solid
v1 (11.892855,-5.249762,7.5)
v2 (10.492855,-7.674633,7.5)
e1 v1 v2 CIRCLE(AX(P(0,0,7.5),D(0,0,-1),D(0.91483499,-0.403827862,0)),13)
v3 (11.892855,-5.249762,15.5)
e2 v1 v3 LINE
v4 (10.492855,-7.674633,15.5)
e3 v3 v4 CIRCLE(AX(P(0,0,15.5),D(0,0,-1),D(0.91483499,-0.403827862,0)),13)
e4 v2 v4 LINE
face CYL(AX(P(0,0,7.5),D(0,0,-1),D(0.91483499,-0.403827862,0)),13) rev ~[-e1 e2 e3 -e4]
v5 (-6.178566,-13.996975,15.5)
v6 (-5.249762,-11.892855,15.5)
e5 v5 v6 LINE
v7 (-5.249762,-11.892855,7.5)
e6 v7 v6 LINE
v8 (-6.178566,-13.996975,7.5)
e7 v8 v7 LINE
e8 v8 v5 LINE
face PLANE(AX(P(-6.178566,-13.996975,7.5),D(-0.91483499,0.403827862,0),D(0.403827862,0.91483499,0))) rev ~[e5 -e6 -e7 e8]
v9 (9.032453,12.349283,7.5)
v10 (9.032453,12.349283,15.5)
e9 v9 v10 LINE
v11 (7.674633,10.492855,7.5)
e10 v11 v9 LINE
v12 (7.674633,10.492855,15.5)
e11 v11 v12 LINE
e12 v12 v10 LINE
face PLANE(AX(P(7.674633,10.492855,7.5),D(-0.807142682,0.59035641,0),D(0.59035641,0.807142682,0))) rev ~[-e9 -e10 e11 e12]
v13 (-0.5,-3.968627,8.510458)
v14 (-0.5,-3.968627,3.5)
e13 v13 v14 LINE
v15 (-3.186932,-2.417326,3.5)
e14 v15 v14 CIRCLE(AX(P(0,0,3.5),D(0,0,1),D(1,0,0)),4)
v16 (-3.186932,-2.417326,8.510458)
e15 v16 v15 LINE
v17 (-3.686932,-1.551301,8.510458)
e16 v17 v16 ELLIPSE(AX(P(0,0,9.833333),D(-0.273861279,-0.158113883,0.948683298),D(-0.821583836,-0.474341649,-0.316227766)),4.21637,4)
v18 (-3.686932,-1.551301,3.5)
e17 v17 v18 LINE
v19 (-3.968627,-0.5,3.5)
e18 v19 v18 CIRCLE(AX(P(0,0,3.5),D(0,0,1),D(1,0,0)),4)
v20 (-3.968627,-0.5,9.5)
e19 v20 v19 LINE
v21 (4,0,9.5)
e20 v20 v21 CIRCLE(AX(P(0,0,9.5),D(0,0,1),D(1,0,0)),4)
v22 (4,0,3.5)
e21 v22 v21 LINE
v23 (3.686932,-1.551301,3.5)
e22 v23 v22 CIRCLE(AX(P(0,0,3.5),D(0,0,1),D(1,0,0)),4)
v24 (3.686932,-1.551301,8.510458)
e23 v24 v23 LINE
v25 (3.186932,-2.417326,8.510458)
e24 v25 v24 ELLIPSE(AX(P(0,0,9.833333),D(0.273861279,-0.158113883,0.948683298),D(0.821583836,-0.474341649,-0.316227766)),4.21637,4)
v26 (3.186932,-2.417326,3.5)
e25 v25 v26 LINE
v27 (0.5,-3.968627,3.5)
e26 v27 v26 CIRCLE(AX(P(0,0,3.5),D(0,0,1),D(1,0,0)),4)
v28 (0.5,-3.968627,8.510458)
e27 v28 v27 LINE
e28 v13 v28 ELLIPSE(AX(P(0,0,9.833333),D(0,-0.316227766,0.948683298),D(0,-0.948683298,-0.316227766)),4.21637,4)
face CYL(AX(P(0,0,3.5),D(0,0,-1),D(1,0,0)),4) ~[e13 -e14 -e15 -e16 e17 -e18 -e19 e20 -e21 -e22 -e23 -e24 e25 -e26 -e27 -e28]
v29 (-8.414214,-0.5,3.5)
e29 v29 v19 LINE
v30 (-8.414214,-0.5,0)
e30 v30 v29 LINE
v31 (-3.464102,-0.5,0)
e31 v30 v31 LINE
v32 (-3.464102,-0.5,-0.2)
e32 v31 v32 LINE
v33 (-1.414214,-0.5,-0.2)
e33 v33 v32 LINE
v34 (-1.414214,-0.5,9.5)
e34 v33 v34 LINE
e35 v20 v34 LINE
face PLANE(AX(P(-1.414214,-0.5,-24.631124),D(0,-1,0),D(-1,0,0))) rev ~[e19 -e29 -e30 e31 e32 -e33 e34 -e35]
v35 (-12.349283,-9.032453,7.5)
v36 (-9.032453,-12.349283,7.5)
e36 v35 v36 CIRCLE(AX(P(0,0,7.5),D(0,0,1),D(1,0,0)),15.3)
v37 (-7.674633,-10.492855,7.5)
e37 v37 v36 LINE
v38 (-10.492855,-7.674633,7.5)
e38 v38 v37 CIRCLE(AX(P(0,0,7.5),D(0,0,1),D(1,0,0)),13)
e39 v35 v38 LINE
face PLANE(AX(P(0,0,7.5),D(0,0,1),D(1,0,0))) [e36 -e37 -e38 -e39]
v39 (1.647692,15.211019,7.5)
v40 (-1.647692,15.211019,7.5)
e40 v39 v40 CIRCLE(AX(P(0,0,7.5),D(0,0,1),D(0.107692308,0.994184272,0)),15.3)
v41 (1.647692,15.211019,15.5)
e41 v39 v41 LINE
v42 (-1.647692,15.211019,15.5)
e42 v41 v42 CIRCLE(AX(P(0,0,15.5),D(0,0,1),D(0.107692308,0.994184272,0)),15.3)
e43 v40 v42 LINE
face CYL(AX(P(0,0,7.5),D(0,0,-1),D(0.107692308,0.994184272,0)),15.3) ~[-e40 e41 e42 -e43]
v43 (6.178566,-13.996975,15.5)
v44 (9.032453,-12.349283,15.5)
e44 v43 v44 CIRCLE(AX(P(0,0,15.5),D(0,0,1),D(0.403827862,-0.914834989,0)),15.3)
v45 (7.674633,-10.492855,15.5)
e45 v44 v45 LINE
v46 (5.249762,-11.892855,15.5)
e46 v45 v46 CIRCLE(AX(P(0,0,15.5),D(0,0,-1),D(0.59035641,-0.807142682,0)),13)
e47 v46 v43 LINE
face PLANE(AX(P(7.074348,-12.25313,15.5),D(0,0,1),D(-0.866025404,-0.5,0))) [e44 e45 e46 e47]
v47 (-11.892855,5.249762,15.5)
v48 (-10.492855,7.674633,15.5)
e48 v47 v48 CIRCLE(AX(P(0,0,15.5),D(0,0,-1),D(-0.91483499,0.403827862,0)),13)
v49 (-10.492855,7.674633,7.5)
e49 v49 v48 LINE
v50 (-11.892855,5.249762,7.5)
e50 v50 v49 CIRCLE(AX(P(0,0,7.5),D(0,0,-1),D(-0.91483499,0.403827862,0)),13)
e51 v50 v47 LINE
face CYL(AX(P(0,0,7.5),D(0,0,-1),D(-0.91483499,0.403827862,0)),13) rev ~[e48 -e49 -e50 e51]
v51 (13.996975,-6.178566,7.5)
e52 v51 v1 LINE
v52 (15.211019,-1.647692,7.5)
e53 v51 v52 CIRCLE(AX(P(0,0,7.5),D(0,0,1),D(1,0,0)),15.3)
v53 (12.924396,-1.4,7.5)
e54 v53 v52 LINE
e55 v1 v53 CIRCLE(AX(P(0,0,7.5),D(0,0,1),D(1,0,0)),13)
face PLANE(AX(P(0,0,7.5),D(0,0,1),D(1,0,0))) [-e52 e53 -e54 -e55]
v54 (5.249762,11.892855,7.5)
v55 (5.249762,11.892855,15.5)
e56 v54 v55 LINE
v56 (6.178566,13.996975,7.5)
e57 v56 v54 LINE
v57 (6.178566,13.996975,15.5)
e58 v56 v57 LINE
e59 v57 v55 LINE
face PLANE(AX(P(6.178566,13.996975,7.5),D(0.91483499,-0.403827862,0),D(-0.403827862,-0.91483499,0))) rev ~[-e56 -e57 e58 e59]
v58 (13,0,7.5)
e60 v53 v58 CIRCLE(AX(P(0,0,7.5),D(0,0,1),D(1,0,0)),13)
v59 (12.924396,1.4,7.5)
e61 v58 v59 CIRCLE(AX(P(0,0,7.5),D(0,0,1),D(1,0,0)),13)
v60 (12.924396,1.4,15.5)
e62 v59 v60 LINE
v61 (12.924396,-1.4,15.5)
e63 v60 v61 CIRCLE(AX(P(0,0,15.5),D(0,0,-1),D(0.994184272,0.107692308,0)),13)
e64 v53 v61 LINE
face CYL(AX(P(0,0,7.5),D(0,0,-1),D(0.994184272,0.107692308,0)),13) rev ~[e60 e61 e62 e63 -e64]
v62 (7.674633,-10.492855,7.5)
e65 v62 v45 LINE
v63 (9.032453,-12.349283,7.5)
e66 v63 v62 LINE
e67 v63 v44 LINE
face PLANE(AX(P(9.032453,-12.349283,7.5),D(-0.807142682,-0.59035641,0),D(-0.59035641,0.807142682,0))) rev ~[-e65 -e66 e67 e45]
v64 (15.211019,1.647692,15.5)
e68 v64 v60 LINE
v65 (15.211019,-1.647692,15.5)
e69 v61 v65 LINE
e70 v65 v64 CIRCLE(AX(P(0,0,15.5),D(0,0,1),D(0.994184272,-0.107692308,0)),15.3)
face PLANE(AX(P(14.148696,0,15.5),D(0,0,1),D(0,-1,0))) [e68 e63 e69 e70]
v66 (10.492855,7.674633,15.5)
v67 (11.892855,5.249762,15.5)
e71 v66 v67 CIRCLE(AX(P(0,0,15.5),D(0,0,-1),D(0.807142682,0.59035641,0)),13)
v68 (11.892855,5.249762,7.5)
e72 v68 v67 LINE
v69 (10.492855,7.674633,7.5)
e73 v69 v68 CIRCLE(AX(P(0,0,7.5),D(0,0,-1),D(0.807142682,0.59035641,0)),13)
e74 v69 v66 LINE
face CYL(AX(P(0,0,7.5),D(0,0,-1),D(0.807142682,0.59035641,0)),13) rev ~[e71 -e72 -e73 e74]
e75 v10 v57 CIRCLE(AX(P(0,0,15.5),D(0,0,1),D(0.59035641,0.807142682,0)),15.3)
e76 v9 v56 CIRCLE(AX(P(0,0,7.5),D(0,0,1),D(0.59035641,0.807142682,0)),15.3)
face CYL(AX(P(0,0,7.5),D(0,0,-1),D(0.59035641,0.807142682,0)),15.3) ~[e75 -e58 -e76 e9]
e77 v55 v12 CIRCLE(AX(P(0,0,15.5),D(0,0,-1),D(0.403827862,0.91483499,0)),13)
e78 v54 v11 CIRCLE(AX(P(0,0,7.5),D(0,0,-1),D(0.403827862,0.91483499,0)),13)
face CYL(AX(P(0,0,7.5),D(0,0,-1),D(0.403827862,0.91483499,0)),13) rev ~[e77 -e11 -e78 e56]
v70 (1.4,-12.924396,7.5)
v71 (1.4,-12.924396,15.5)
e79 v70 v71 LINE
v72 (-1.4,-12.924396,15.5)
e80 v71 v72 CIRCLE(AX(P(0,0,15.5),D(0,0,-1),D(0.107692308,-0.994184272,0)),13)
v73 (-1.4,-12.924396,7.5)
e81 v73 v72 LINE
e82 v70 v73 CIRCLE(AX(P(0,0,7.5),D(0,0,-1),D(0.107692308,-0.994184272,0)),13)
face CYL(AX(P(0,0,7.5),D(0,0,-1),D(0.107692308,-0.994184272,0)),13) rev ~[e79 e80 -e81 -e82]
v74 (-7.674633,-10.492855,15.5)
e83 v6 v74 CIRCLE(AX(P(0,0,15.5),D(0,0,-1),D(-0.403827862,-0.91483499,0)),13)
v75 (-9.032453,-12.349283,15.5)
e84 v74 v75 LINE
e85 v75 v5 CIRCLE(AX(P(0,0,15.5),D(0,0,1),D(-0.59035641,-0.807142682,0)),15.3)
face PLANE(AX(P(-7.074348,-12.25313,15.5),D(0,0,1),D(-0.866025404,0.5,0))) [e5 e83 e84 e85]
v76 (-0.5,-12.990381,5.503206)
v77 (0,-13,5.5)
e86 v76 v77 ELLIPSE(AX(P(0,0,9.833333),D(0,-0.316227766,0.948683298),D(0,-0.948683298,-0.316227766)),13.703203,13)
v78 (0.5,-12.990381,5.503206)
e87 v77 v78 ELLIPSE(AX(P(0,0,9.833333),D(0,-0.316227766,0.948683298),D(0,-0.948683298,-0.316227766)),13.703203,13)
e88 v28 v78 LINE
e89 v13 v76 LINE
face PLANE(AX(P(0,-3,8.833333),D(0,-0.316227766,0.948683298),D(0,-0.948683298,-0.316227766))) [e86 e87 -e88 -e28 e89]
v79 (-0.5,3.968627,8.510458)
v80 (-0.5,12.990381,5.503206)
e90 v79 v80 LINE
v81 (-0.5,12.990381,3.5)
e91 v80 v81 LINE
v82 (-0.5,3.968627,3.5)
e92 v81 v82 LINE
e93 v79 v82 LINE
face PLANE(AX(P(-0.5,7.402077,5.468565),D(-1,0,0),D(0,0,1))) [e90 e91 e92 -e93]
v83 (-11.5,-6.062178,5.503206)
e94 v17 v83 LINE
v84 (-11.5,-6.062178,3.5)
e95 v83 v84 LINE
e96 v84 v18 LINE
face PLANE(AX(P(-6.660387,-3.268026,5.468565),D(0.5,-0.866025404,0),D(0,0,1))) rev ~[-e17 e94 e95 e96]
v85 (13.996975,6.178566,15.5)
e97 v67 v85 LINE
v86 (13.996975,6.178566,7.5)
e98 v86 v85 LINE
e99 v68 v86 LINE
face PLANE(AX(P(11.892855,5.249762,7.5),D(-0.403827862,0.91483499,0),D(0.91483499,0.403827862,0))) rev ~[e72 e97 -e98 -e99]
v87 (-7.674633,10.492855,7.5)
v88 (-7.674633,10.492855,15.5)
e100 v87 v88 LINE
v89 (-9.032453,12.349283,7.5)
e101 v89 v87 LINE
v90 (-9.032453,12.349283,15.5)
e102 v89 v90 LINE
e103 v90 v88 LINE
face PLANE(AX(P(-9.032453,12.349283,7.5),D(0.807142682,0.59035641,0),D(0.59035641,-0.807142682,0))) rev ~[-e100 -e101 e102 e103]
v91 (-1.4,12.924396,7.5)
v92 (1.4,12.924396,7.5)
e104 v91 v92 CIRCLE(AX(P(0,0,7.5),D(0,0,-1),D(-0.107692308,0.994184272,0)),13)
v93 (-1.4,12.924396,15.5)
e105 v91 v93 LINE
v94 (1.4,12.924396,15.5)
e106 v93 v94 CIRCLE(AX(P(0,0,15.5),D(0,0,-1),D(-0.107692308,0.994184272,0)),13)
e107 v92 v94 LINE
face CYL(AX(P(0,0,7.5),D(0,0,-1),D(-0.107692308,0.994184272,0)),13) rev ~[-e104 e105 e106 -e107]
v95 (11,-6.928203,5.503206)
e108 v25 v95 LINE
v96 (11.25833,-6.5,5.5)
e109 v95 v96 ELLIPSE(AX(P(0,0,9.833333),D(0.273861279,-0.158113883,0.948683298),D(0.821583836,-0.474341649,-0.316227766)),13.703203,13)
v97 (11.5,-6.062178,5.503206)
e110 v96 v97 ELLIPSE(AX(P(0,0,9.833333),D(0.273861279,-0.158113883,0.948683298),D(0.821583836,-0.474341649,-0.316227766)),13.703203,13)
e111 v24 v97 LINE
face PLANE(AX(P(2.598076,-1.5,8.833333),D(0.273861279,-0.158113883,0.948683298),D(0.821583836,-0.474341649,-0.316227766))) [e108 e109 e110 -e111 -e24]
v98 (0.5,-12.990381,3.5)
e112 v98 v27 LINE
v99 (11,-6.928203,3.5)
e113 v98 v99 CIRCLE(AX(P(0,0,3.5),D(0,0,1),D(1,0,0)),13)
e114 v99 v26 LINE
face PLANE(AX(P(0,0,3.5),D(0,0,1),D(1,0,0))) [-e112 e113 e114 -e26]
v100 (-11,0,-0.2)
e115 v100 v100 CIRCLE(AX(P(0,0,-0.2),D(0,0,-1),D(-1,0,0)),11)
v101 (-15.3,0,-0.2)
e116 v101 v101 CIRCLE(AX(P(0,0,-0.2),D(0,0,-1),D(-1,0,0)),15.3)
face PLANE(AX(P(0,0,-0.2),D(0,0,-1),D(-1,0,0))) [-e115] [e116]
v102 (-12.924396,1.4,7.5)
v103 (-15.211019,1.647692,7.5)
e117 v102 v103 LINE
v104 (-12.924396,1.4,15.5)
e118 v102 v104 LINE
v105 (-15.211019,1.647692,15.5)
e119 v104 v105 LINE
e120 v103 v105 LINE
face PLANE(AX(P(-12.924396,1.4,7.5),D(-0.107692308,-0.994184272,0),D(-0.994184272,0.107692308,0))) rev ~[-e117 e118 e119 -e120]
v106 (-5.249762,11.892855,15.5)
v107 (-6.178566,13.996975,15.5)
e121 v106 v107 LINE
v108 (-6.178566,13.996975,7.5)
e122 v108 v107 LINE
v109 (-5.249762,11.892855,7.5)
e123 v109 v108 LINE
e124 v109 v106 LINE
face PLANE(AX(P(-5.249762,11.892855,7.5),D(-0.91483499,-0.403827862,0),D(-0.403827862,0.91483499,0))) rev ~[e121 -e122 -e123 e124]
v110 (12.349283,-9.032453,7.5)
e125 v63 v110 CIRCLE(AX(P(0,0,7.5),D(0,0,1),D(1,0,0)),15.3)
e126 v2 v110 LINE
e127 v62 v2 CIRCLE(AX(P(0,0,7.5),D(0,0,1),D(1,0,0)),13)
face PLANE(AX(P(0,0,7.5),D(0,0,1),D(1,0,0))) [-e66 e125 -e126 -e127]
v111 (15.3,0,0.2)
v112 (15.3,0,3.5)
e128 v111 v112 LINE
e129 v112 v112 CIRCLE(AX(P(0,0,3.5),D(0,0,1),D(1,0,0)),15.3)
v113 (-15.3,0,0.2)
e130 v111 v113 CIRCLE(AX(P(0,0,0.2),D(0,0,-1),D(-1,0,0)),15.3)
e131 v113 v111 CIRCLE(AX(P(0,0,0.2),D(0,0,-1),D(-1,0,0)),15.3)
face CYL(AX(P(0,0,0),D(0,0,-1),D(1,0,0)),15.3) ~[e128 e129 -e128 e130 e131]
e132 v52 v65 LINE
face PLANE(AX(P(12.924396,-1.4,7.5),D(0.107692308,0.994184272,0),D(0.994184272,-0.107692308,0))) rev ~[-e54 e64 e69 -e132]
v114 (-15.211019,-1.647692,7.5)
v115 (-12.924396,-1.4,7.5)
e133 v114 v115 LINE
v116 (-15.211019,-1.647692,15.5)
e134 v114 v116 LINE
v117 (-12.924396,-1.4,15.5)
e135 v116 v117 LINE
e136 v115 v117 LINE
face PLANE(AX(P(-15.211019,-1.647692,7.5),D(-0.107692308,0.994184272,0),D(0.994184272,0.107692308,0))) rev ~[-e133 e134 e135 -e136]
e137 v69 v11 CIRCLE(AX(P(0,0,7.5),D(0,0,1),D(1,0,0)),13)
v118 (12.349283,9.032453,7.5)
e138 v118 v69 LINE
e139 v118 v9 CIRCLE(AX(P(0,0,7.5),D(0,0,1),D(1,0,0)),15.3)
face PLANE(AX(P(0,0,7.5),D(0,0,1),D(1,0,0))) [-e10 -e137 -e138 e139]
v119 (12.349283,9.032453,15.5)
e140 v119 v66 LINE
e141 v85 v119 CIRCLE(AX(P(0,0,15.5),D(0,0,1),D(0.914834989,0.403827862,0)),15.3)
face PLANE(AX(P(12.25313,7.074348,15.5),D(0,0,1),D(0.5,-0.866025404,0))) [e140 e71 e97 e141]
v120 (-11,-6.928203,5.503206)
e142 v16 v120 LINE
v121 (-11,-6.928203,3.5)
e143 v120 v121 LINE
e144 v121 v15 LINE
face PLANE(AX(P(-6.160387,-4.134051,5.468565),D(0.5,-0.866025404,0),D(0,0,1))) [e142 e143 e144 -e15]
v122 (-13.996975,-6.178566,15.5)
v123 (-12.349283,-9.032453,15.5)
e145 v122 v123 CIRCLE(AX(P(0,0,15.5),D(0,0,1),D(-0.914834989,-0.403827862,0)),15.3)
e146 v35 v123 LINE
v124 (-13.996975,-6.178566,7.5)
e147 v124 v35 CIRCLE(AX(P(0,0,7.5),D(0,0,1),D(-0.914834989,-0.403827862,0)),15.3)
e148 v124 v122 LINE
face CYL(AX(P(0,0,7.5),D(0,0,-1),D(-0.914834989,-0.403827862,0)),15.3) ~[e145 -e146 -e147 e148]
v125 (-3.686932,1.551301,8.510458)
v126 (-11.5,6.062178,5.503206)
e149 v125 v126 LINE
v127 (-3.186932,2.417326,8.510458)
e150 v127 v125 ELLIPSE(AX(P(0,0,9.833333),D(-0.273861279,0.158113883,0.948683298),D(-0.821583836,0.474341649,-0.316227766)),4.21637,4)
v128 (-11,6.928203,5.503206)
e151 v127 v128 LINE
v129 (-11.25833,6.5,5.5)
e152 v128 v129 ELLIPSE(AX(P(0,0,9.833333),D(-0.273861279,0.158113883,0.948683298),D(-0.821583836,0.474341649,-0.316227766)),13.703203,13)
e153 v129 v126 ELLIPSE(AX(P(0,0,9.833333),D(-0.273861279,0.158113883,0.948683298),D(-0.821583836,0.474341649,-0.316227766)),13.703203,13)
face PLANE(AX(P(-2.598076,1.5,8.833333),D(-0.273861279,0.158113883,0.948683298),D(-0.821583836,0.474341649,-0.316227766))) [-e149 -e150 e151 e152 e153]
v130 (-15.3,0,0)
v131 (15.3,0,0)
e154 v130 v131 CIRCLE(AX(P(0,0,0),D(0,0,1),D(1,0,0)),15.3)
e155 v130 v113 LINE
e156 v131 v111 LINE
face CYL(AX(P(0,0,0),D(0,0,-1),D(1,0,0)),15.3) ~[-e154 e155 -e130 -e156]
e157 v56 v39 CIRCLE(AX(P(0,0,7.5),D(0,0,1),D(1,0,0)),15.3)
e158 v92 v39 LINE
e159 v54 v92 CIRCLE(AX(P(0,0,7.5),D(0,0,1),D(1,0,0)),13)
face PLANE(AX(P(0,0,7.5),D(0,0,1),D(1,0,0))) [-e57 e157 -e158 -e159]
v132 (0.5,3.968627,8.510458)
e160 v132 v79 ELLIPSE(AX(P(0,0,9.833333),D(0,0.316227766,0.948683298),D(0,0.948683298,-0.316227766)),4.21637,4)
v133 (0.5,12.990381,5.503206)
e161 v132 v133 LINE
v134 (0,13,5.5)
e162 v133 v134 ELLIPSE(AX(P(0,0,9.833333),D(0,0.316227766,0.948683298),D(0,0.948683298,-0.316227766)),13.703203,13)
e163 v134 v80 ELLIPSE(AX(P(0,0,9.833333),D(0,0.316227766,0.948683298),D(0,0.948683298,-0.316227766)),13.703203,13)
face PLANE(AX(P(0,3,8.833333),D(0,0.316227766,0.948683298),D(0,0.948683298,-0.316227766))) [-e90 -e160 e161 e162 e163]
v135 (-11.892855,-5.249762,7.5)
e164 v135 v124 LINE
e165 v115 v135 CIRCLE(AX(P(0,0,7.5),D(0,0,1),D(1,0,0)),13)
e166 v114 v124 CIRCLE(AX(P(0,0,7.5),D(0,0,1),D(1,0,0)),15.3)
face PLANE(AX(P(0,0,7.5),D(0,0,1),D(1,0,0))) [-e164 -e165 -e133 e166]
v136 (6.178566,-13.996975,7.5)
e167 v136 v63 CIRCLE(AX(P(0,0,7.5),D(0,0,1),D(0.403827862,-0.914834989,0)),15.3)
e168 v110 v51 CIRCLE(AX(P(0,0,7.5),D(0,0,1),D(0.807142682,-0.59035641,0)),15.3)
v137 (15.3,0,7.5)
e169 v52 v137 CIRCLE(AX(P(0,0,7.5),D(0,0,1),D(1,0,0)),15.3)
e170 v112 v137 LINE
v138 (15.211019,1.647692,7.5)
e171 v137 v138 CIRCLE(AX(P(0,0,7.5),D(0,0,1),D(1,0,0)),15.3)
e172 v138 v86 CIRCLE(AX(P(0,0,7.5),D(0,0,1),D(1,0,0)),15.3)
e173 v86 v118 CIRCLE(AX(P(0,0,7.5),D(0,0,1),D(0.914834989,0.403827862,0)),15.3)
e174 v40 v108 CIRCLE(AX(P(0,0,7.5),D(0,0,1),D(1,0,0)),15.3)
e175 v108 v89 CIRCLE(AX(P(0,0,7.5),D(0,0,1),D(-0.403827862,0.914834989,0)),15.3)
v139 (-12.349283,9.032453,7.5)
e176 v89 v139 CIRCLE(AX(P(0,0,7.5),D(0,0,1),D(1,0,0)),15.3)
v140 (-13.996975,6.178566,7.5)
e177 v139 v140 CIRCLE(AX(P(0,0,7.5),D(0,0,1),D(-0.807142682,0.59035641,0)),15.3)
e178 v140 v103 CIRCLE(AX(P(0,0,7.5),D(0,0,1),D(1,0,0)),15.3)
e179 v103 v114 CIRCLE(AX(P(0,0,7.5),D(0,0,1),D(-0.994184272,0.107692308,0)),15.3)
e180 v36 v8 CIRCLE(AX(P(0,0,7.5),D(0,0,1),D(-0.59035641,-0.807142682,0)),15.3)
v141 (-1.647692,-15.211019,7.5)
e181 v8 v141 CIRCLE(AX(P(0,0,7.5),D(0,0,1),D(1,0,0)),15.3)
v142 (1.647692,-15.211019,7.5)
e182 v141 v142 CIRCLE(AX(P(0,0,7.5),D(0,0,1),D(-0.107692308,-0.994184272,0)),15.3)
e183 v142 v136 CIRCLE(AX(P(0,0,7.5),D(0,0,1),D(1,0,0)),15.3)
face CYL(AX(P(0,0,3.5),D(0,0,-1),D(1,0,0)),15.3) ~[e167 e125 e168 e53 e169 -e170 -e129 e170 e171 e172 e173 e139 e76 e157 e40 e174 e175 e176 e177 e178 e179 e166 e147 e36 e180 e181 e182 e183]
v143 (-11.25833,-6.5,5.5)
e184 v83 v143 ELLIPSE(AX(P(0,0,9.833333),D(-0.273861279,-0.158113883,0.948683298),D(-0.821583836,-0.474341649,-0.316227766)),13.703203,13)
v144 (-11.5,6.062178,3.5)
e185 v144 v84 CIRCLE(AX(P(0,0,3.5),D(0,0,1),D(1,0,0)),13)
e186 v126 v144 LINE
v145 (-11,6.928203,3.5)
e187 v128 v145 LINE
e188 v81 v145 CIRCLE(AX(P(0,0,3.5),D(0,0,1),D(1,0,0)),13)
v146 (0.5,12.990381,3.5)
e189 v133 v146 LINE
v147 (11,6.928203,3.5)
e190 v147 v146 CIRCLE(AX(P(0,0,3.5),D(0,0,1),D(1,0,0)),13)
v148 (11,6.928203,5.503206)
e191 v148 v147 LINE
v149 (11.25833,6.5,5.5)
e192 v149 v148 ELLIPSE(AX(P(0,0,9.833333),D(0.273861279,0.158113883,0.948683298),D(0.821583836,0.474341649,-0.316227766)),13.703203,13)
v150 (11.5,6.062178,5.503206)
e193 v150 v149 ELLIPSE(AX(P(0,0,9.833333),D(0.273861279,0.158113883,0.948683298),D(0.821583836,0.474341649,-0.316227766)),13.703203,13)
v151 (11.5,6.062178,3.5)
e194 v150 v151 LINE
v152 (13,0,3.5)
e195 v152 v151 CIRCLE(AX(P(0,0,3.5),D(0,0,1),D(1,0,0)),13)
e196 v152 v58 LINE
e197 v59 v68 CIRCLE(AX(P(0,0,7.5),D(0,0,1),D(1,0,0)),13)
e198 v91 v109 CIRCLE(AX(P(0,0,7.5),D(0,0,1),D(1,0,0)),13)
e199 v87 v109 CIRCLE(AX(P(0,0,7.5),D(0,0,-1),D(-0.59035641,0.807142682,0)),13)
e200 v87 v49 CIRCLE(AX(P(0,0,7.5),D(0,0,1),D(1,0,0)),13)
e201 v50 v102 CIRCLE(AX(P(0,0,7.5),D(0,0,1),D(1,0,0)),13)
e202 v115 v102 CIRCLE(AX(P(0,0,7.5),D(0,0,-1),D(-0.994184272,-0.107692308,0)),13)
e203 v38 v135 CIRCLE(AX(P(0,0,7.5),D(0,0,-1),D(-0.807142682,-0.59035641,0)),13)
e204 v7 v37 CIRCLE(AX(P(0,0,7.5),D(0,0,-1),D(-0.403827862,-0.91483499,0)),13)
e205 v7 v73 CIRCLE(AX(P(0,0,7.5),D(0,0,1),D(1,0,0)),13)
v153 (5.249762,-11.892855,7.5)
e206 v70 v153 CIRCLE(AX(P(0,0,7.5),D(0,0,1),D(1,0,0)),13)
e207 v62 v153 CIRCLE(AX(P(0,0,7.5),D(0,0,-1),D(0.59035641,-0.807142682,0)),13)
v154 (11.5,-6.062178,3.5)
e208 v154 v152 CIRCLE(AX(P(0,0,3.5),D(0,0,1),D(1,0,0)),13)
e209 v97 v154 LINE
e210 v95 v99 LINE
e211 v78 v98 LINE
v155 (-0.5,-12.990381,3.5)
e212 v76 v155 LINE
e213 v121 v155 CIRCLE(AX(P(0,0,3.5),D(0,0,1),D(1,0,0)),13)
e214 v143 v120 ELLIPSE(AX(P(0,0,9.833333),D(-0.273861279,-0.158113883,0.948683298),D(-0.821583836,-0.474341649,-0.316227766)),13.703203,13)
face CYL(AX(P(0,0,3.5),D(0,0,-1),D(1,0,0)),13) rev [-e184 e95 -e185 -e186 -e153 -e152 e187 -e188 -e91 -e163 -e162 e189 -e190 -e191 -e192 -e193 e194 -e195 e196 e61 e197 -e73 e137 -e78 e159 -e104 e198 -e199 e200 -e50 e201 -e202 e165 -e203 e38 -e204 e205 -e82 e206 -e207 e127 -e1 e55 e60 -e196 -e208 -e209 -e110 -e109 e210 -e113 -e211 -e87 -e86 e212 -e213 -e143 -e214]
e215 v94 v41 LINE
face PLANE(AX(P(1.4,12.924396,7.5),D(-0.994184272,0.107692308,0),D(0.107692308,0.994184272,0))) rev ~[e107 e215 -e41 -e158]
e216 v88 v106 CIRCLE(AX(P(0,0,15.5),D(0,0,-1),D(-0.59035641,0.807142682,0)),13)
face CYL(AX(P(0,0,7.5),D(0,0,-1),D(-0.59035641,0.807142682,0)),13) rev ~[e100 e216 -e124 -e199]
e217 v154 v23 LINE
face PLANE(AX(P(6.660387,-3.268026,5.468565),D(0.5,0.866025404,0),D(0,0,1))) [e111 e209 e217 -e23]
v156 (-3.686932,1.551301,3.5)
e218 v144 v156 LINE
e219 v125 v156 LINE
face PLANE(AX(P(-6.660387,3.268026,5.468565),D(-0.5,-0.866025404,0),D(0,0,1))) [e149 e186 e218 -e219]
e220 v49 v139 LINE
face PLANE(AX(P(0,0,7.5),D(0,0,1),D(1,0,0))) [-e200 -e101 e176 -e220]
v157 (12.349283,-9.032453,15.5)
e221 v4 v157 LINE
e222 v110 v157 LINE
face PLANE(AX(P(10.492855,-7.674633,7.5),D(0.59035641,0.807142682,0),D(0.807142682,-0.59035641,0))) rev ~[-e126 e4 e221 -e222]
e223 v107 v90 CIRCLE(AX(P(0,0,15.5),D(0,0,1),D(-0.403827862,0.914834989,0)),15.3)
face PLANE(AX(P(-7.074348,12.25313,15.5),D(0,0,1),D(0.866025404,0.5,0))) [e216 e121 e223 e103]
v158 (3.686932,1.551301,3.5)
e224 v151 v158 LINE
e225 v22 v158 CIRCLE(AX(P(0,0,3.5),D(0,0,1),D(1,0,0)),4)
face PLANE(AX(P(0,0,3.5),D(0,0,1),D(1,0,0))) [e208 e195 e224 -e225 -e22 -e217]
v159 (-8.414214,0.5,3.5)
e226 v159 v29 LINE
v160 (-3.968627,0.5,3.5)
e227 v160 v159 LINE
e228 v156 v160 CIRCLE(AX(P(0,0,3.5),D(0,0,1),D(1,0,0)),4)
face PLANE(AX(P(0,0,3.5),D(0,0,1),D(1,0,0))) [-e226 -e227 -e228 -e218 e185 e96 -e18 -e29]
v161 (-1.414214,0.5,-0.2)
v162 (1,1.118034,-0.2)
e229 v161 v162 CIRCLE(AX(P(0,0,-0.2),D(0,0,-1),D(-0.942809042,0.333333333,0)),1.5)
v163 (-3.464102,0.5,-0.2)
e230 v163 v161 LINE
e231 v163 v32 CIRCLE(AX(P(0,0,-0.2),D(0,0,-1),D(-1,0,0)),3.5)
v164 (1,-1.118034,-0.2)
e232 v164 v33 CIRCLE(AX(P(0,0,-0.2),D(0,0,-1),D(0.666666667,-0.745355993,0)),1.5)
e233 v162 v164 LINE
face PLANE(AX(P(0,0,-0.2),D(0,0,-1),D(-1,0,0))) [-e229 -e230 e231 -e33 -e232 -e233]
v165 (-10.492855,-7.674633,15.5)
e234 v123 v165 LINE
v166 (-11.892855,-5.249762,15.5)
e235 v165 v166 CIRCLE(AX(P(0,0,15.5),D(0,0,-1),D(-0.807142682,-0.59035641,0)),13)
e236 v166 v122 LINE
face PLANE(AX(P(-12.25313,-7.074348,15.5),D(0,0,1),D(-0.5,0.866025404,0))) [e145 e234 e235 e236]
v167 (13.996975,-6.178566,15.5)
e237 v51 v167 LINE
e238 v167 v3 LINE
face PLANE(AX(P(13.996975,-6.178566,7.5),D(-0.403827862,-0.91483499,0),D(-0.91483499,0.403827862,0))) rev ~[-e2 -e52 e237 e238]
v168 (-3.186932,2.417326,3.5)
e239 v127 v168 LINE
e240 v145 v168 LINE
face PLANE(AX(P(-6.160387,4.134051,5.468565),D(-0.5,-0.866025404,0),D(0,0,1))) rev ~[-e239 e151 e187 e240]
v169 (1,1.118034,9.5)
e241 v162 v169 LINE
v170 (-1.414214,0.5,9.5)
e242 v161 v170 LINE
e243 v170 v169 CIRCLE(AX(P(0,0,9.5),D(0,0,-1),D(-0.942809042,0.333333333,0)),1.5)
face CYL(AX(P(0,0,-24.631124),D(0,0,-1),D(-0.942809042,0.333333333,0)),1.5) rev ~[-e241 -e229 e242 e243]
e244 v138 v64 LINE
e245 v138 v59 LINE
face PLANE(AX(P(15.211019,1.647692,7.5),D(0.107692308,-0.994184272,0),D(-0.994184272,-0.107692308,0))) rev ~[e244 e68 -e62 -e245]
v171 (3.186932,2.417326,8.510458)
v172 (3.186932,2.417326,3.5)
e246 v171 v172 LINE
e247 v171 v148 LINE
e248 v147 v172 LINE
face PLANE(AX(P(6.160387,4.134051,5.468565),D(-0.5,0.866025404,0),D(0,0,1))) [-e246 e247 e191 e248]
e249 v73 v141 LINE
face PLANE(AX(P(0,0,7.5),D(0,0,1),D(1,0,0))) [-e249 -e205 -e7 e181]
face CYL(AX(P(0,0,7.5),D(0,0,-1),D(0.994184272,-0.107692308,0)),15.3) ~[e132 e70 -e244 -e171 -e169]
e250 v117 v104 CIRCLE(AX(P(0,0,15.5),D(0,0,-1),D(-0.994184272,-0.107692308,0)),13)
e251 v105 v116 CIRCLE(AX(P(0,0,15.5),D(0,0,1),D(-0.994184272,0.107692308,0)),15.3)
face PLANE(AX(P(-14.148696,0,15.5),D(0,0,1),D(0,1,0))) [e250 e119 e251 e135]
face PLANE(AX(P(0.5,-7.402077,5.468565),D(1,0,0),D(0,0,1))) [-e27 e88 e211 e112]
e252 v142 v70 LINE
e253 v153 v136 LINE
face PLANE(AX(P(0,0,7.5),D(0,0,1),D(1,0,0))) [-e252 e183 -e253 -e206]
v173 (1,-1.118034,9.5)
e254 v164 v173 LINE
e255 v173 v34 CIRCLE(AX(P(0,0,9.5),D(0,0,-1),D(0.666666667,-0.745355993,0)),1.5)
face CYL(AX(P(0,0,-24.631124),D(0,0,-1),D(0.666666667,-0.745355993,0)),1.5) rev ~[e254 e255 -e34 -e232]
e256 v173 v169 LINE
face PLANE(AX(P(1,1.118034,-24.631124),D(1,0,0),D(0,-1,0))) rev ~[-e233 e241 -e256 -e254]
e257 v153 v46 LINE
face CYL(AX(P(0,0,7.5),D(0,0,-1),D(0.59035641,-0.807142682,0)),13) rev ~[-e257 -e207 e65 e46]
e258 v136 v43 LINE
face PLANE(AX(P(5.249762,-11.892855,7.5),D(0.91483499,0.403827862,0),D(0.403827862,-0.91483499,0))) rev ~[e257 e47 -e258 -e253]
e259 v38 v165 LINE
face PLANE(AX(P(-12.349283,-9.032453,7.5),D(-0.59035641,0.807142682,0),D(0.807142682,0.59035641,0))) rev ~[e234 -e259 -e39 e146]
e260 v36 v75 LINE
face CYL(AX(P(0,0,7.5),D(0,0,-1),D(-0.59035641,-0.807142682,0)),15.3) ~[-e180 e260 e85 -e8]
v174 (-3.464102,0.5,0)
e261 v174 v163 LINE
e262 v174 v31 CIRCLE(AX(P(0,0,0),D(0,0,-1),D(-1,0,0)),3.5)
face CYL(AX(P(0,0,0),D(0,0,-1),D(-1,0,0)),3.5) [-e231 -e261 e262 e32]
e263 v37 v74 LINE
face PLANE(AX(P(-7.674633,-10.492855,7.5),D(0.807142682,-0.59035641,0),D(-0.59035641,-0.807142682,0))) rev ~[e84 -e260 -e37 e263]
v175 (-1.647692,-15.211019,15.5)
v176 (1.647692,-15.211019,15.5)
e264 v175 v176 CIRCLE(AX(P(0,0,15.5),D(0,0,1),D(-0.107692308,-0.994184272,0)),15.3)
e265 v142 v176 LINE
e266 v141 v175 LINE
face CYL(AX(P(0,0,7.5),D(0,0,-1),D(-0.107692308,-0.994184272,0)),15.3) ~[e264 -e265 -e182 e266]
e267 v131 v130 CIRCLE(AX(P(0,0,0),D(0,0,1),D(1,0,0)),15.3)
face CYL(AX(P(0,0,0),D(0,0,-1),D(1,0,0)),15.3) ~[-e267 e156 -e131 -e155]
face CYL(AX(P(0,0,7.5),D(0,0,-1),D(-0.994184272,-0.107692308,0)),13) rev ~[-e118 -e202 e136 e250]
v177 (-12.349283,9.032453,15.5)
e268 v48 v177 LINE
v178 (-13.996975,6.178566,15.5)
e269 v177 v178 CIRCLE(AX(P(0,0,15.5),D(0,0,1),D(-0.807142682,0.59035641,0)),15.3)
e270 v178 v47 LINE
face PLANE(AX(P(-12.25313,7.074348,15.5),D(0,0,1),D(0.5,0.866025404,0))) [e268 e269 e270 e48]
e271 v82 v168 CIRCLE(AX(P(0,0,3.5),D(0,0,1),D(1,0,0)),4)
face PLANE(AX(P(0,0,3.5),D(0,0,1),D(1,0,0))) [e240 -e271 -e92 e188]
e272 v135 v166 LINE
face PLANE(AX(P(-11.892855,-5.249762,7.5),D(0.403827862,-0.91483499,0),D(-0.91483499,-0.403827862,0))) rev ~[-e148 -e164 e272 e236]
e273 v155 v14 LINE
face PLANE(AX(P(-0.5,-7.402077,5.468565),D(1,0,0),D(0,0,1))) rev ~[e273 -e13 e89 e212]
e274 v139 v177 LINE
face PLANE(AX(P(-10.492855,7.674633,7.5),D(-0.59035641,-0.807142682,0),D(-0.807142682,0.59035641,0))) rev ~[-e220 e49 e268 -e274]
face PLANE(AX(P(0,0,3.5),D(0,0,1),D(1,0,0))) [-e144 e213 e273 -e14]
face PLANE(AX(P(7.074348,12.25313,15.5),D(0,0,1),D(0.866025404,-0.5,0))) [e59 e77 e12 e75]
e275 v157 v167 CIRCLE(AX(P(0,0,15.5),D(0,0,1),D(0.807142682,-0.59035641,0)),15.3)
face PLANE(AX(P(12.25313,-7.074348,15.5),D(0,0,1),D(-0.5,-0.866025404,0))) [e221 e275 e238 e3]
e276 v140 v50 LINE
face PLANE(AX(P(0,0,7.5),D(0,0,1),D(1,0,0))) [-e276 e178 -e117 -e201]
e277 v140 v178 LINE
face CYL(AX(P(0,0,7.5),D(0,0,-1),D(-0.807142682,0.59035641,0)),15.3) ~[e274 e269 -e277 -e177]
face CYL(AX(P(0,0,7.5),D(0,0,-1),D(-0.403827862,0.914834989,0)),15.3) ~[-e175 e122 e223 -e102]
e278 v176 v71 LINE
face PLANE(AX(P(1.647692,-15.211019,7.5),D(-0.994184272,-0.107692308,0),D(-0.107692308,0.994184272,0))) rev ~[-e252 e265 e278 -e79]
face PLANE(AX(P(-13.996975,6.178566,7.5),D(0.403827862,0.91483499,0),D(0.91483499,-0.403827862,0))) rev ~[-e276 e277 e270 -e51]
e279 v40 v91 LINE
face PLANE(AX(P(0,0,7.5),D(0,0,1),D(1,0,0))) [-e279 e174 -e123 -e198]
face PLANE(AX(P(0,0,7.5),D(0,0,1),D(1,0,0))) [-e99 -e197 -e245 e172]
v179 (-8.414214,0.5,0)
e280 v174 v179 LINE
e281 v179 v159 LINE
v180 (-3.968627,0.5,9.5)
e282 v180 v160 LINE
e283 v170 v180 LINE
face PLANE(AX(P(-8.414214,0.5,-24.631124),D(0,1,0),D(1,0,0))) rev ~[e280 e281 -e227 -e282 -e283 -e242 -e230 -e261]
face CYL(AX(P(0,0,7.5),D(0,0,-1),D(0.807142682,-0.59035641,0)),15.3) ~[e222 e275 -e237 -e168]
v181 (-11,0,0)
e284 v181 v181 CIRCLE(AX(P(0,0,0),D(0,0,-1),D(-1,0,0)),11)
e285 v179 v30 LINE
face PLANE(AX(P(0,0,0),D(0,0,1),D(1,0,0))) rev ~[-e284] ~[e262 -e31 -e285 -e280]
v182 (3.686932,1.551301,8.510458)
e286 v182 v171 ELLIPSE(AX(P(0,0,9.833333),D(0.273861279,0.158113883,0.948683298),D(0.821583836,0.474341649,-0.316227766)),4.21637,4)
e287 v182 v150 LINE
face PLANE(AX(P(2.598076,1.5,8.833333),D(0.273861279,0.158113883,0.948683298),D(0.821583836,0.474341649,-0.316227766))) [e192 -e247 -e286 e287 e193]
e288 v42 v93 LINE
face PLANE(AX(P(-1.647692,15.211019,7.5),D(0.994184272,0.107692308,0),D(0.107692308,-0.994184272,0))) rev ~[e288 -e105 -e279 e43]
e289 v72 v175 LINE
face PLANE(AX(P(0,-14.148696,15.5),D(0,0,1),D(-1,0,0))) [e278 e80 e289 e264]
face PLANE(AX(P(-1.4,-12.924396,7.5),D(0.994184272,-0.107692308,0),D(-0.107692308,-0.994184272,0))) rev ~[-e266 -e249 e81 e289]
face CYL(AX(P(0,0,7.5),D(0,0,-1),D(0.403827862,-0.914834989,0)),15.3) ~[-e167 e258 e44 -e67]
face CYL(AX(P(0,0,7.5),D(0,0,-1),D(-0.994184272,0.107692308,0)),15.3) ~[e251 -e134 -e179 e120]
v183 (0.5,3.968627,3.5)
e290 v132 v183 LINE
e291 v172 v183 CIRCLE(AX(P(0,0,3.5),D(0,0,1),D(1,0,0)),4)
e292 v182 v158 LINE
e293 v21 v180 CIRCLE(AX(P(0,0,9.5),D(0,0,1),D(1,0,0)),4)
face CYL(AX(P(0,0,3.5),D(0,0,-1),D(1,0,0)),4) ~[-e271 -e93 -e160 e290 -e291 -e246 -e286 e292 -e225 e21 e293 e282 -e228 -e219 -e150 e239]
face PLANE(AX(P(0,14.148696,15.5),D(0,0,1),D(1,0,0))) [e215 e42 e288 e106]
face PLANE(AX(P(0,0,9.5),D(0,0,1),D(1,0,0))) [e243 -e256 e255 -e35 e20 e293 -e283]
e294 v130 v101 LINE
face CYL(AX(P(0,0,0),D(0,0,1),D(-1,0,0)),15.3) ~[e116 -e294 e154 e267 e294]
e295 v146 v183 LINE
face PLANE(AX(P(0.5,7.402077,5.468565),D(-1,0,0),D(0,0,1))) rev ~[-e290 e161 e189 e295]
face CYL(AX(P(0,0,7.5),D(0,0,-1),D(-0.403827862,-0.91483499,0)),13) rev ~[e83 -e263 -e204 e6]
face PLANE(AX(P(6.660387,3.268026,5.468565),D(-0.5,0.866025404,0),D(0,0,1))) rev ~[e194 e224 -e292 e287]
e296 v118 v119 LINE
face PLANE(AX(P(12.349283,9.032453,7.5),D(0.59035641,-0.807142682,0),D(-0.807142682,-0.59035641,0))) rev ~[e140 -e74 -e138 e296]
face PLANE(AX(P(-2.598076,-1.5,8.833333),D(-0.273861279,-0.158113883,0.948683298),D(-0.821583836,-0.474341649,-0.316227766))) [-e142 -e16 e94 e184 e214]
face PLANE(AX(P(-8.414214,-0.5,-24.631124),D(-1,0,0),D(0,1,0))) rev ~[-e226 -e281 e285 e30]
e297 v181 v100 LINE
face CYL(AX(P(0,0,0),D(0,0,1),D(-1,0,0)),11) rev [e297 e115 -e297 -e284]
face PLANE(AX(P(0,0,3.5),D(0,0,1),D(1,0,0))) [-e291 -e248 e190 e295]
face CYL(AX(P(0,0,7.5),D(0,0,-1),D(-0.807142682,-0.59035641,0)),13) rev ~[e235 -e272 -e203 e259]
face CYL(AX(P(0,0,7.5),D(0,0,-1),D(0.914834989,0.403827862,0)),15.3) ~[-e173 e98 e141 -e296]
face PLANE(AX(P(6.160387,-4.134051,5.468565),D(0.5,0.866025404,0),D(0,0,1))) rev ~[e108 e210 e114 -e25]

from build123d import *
from build123d.topology import SkipClean

# Parameters (mm, degrees)
ESQUISSE1_R                  = 15.3
BOSS_EXTRU_1_DEPTH           = 3.5
ESQUISSE7_R                  = 15.3
ESQUISSE7_R_2                = 11
ESQUISSE7_R_3                = 3.5
BOSS_EXTRU_10_DEPTH          = 0.2
ESQUISSE2_R                  = 4
BOSS_EXTRU_2_DEPTH           = 6
ENL_V_MAT_EXTRU_2_DEPTH      = 24.631123545
ENL_V_MAT_EXTRU_2_DEPTH_BACK = 24.631123545
ESQUISSE4_R                  = 15.3
ESQUISSE4_R_2                = 13
BOSS_EXTRU_3_DEPTH           = 4
BOSS_EXTRU_4_DEPTH           = 8
R_P_TITION_CIRCULAIRE1_COUNT = 12
BOSS_EXTRU_9_DEPTH           = 0.5
R_P_TITION_CIRCULAIRE4_COUNT = 6


with BuildPart() as part:
    # Esquisse1 → Boss.-Extru.1 (new body)
    with BuildSketch(Plane.XY):
        Circle(ESQUISSE1_R)
    extrude(amount=BOSS_EXTRU_1_DEPTH)

    # Esquisse7 → Boss.-Extru.10 (add, symmetric)
    # profile 1 of 2: a face of its own
    with SkipClean():  # the faces are left unmerged after this step: merging them gives an invalid solid
        with BuildSketch(Plane(origin=(0, 0, 0), x_dir=(-1, 0, 0), z_dir=(0, 0, -1))):
            Circle(ESQUISSE7_R)
            Circle(ESQUISSE7_R_2, mode=Mode.SUBTRACT)
        # profile 2 of 2: a face of its own
        with BuildSketch(Plane(origin=(0, 0, 0), x_dir=(-1, 0, 0), z_dir=(0, 0, -1))):
            Circle(ESQUISSE7_R_3)
        extrude(amount=BOSS_EXTRU_10_DEPTH, both=True)

    # Esquisse2 → Boss.-Extru.2 (add)
    with SkipClean():  # the faces are left unmerged after this step: merging them gives an invalid solid
        with BuildSketch(Plane.XY.offset(3.5)):
            Circle(ESQUISSE2_R)
        extrude(amount=BOSS_EXTRU_2_DEPTH)

    # Esquisse3 → Enlèv. mat.-Extru.2 (cut, two sides: drawn at the far end of the back side and taken through both)
    with SkipClean():  # the faces are left unmerged after this step: merging them gives an invalid solid
        with BuildSketch(Plane.XY.offset(-ENL_V_MAT_EXTRU_2_DEPTH_BACK)):
            with BuildLine():
                Line((1, 1.118033989), (1, -1.118033989))
                ThreePointArc((1, -1.118033989), (-0.37200097, -1.4531398), (-1.414213562, -0.5))
                Line((-1.414213562, -0.5), (-8.414213562, -0.5))
                Line((-8.414213562, -0.5), (-8.414213562, 0.5))
                Line((-8.414213562, 0.5), (-1.414213562, 0.5))
                ThreePointArc((-1.414213562, 0.5), (-0.37200097, 1.4531398), (1, 1.118033989))
            make_face()
        extrude(amount=ENL_V_MAT_EXTRU_2_DEPTH + ENL_V_MAT_EXTRU_2_DEPTH_BACK, mode=Mode.SUBTRACT)

    # Esquisse4 → Boss.-Extru.3 (add)
    with SkipClean():  # the faces are left unmerged after this step: merging them gives an invalid solid
        with BuildSketch(Plane.XY.offset(3.5)):
            Circle(ESQUISSE4_R)
            Circle(ESQUISSE4_R_2, mode=Mode.SUBTRACT)
        extrude(amount=BOSS_EXTRU_3_DEPTH)

    # Esquisse5 → Boss.-Extru.4 (add)
    with SkipClean():  # the faces are left unmerged after this step: merging them gives an invalid solid
        with BuildSketch(Plane.XY.offset(7.5)):
            with BuildLine():
                Line((-1.647692308, 15.211019363), (-1.4, 12.924395537))
                ThreePointArc((-1.4, 12.924395537), (0, 13), (1.4, 12.924395537))
                Line((1.4, 12.924395537), (1.647692308, 15.211019363))
                ThreePointArc((1.647692308, 15.211019363), (0, 15.3), (-1.647692308, 15.211019363))
            make_face()
        boss_extru_4 = extrude(amount=BOSS_EXTRU_4_DEPTH)

    # Répétition circulaire1: Boss.-Extru.4 ×12 about axis
    with SkipClean():  # the faces are left unmerged after this step: merging them gives an invalid solid
        r_p_tition_circulaire1_axis = Axis((0, 0, -0.775), (0, 0, 1))
        for i in range(1, R_P_TITION_CIRCULAIRE1_COUNT):
            add(boss_extru_4.rotate(r_p_tition_circulaire1_axis, i * 360 / R_P_TITION_CIRCULAIRE1_COUNT))

    # Esquisse6 → Boss.-Extru.9 (add, symmetric)
    with SkipClean():  # the faces are left unmerged after this step: merging them gives an invalid solid
        with BuildSketch(Plane(origin=(0, 0, 0), x_dir=(0, 0, 1), z_dir=(1, 0, 0))):
            Polygon((8.833333333, 3), (5.5, 13), (3.5, 13), (3.5, 3), align=None)
        boss_extru_9 = extrude(amount=BOSS_EXTRU_9_DEPTH, both=True)

    # Répétition circulaire4: Boss.-Extru.9 ×6 about axis
    with SkipClean():  # the faces are left unmerged after this step: merging them gives an invalid solid
        r_p_tition_circulaire4_axis = Axis((0, 0, -0.775), (0, 0, 1))
        for i in range(1, R_P_TITION_CIRCULAIRE4_COUNT):
            add(boss_extru_9.rotate(r_p_tition_circulaire4_axis, i * 360 / R_P_TITION_CIRCULAIRE4_COUNT))


solid = part.part
